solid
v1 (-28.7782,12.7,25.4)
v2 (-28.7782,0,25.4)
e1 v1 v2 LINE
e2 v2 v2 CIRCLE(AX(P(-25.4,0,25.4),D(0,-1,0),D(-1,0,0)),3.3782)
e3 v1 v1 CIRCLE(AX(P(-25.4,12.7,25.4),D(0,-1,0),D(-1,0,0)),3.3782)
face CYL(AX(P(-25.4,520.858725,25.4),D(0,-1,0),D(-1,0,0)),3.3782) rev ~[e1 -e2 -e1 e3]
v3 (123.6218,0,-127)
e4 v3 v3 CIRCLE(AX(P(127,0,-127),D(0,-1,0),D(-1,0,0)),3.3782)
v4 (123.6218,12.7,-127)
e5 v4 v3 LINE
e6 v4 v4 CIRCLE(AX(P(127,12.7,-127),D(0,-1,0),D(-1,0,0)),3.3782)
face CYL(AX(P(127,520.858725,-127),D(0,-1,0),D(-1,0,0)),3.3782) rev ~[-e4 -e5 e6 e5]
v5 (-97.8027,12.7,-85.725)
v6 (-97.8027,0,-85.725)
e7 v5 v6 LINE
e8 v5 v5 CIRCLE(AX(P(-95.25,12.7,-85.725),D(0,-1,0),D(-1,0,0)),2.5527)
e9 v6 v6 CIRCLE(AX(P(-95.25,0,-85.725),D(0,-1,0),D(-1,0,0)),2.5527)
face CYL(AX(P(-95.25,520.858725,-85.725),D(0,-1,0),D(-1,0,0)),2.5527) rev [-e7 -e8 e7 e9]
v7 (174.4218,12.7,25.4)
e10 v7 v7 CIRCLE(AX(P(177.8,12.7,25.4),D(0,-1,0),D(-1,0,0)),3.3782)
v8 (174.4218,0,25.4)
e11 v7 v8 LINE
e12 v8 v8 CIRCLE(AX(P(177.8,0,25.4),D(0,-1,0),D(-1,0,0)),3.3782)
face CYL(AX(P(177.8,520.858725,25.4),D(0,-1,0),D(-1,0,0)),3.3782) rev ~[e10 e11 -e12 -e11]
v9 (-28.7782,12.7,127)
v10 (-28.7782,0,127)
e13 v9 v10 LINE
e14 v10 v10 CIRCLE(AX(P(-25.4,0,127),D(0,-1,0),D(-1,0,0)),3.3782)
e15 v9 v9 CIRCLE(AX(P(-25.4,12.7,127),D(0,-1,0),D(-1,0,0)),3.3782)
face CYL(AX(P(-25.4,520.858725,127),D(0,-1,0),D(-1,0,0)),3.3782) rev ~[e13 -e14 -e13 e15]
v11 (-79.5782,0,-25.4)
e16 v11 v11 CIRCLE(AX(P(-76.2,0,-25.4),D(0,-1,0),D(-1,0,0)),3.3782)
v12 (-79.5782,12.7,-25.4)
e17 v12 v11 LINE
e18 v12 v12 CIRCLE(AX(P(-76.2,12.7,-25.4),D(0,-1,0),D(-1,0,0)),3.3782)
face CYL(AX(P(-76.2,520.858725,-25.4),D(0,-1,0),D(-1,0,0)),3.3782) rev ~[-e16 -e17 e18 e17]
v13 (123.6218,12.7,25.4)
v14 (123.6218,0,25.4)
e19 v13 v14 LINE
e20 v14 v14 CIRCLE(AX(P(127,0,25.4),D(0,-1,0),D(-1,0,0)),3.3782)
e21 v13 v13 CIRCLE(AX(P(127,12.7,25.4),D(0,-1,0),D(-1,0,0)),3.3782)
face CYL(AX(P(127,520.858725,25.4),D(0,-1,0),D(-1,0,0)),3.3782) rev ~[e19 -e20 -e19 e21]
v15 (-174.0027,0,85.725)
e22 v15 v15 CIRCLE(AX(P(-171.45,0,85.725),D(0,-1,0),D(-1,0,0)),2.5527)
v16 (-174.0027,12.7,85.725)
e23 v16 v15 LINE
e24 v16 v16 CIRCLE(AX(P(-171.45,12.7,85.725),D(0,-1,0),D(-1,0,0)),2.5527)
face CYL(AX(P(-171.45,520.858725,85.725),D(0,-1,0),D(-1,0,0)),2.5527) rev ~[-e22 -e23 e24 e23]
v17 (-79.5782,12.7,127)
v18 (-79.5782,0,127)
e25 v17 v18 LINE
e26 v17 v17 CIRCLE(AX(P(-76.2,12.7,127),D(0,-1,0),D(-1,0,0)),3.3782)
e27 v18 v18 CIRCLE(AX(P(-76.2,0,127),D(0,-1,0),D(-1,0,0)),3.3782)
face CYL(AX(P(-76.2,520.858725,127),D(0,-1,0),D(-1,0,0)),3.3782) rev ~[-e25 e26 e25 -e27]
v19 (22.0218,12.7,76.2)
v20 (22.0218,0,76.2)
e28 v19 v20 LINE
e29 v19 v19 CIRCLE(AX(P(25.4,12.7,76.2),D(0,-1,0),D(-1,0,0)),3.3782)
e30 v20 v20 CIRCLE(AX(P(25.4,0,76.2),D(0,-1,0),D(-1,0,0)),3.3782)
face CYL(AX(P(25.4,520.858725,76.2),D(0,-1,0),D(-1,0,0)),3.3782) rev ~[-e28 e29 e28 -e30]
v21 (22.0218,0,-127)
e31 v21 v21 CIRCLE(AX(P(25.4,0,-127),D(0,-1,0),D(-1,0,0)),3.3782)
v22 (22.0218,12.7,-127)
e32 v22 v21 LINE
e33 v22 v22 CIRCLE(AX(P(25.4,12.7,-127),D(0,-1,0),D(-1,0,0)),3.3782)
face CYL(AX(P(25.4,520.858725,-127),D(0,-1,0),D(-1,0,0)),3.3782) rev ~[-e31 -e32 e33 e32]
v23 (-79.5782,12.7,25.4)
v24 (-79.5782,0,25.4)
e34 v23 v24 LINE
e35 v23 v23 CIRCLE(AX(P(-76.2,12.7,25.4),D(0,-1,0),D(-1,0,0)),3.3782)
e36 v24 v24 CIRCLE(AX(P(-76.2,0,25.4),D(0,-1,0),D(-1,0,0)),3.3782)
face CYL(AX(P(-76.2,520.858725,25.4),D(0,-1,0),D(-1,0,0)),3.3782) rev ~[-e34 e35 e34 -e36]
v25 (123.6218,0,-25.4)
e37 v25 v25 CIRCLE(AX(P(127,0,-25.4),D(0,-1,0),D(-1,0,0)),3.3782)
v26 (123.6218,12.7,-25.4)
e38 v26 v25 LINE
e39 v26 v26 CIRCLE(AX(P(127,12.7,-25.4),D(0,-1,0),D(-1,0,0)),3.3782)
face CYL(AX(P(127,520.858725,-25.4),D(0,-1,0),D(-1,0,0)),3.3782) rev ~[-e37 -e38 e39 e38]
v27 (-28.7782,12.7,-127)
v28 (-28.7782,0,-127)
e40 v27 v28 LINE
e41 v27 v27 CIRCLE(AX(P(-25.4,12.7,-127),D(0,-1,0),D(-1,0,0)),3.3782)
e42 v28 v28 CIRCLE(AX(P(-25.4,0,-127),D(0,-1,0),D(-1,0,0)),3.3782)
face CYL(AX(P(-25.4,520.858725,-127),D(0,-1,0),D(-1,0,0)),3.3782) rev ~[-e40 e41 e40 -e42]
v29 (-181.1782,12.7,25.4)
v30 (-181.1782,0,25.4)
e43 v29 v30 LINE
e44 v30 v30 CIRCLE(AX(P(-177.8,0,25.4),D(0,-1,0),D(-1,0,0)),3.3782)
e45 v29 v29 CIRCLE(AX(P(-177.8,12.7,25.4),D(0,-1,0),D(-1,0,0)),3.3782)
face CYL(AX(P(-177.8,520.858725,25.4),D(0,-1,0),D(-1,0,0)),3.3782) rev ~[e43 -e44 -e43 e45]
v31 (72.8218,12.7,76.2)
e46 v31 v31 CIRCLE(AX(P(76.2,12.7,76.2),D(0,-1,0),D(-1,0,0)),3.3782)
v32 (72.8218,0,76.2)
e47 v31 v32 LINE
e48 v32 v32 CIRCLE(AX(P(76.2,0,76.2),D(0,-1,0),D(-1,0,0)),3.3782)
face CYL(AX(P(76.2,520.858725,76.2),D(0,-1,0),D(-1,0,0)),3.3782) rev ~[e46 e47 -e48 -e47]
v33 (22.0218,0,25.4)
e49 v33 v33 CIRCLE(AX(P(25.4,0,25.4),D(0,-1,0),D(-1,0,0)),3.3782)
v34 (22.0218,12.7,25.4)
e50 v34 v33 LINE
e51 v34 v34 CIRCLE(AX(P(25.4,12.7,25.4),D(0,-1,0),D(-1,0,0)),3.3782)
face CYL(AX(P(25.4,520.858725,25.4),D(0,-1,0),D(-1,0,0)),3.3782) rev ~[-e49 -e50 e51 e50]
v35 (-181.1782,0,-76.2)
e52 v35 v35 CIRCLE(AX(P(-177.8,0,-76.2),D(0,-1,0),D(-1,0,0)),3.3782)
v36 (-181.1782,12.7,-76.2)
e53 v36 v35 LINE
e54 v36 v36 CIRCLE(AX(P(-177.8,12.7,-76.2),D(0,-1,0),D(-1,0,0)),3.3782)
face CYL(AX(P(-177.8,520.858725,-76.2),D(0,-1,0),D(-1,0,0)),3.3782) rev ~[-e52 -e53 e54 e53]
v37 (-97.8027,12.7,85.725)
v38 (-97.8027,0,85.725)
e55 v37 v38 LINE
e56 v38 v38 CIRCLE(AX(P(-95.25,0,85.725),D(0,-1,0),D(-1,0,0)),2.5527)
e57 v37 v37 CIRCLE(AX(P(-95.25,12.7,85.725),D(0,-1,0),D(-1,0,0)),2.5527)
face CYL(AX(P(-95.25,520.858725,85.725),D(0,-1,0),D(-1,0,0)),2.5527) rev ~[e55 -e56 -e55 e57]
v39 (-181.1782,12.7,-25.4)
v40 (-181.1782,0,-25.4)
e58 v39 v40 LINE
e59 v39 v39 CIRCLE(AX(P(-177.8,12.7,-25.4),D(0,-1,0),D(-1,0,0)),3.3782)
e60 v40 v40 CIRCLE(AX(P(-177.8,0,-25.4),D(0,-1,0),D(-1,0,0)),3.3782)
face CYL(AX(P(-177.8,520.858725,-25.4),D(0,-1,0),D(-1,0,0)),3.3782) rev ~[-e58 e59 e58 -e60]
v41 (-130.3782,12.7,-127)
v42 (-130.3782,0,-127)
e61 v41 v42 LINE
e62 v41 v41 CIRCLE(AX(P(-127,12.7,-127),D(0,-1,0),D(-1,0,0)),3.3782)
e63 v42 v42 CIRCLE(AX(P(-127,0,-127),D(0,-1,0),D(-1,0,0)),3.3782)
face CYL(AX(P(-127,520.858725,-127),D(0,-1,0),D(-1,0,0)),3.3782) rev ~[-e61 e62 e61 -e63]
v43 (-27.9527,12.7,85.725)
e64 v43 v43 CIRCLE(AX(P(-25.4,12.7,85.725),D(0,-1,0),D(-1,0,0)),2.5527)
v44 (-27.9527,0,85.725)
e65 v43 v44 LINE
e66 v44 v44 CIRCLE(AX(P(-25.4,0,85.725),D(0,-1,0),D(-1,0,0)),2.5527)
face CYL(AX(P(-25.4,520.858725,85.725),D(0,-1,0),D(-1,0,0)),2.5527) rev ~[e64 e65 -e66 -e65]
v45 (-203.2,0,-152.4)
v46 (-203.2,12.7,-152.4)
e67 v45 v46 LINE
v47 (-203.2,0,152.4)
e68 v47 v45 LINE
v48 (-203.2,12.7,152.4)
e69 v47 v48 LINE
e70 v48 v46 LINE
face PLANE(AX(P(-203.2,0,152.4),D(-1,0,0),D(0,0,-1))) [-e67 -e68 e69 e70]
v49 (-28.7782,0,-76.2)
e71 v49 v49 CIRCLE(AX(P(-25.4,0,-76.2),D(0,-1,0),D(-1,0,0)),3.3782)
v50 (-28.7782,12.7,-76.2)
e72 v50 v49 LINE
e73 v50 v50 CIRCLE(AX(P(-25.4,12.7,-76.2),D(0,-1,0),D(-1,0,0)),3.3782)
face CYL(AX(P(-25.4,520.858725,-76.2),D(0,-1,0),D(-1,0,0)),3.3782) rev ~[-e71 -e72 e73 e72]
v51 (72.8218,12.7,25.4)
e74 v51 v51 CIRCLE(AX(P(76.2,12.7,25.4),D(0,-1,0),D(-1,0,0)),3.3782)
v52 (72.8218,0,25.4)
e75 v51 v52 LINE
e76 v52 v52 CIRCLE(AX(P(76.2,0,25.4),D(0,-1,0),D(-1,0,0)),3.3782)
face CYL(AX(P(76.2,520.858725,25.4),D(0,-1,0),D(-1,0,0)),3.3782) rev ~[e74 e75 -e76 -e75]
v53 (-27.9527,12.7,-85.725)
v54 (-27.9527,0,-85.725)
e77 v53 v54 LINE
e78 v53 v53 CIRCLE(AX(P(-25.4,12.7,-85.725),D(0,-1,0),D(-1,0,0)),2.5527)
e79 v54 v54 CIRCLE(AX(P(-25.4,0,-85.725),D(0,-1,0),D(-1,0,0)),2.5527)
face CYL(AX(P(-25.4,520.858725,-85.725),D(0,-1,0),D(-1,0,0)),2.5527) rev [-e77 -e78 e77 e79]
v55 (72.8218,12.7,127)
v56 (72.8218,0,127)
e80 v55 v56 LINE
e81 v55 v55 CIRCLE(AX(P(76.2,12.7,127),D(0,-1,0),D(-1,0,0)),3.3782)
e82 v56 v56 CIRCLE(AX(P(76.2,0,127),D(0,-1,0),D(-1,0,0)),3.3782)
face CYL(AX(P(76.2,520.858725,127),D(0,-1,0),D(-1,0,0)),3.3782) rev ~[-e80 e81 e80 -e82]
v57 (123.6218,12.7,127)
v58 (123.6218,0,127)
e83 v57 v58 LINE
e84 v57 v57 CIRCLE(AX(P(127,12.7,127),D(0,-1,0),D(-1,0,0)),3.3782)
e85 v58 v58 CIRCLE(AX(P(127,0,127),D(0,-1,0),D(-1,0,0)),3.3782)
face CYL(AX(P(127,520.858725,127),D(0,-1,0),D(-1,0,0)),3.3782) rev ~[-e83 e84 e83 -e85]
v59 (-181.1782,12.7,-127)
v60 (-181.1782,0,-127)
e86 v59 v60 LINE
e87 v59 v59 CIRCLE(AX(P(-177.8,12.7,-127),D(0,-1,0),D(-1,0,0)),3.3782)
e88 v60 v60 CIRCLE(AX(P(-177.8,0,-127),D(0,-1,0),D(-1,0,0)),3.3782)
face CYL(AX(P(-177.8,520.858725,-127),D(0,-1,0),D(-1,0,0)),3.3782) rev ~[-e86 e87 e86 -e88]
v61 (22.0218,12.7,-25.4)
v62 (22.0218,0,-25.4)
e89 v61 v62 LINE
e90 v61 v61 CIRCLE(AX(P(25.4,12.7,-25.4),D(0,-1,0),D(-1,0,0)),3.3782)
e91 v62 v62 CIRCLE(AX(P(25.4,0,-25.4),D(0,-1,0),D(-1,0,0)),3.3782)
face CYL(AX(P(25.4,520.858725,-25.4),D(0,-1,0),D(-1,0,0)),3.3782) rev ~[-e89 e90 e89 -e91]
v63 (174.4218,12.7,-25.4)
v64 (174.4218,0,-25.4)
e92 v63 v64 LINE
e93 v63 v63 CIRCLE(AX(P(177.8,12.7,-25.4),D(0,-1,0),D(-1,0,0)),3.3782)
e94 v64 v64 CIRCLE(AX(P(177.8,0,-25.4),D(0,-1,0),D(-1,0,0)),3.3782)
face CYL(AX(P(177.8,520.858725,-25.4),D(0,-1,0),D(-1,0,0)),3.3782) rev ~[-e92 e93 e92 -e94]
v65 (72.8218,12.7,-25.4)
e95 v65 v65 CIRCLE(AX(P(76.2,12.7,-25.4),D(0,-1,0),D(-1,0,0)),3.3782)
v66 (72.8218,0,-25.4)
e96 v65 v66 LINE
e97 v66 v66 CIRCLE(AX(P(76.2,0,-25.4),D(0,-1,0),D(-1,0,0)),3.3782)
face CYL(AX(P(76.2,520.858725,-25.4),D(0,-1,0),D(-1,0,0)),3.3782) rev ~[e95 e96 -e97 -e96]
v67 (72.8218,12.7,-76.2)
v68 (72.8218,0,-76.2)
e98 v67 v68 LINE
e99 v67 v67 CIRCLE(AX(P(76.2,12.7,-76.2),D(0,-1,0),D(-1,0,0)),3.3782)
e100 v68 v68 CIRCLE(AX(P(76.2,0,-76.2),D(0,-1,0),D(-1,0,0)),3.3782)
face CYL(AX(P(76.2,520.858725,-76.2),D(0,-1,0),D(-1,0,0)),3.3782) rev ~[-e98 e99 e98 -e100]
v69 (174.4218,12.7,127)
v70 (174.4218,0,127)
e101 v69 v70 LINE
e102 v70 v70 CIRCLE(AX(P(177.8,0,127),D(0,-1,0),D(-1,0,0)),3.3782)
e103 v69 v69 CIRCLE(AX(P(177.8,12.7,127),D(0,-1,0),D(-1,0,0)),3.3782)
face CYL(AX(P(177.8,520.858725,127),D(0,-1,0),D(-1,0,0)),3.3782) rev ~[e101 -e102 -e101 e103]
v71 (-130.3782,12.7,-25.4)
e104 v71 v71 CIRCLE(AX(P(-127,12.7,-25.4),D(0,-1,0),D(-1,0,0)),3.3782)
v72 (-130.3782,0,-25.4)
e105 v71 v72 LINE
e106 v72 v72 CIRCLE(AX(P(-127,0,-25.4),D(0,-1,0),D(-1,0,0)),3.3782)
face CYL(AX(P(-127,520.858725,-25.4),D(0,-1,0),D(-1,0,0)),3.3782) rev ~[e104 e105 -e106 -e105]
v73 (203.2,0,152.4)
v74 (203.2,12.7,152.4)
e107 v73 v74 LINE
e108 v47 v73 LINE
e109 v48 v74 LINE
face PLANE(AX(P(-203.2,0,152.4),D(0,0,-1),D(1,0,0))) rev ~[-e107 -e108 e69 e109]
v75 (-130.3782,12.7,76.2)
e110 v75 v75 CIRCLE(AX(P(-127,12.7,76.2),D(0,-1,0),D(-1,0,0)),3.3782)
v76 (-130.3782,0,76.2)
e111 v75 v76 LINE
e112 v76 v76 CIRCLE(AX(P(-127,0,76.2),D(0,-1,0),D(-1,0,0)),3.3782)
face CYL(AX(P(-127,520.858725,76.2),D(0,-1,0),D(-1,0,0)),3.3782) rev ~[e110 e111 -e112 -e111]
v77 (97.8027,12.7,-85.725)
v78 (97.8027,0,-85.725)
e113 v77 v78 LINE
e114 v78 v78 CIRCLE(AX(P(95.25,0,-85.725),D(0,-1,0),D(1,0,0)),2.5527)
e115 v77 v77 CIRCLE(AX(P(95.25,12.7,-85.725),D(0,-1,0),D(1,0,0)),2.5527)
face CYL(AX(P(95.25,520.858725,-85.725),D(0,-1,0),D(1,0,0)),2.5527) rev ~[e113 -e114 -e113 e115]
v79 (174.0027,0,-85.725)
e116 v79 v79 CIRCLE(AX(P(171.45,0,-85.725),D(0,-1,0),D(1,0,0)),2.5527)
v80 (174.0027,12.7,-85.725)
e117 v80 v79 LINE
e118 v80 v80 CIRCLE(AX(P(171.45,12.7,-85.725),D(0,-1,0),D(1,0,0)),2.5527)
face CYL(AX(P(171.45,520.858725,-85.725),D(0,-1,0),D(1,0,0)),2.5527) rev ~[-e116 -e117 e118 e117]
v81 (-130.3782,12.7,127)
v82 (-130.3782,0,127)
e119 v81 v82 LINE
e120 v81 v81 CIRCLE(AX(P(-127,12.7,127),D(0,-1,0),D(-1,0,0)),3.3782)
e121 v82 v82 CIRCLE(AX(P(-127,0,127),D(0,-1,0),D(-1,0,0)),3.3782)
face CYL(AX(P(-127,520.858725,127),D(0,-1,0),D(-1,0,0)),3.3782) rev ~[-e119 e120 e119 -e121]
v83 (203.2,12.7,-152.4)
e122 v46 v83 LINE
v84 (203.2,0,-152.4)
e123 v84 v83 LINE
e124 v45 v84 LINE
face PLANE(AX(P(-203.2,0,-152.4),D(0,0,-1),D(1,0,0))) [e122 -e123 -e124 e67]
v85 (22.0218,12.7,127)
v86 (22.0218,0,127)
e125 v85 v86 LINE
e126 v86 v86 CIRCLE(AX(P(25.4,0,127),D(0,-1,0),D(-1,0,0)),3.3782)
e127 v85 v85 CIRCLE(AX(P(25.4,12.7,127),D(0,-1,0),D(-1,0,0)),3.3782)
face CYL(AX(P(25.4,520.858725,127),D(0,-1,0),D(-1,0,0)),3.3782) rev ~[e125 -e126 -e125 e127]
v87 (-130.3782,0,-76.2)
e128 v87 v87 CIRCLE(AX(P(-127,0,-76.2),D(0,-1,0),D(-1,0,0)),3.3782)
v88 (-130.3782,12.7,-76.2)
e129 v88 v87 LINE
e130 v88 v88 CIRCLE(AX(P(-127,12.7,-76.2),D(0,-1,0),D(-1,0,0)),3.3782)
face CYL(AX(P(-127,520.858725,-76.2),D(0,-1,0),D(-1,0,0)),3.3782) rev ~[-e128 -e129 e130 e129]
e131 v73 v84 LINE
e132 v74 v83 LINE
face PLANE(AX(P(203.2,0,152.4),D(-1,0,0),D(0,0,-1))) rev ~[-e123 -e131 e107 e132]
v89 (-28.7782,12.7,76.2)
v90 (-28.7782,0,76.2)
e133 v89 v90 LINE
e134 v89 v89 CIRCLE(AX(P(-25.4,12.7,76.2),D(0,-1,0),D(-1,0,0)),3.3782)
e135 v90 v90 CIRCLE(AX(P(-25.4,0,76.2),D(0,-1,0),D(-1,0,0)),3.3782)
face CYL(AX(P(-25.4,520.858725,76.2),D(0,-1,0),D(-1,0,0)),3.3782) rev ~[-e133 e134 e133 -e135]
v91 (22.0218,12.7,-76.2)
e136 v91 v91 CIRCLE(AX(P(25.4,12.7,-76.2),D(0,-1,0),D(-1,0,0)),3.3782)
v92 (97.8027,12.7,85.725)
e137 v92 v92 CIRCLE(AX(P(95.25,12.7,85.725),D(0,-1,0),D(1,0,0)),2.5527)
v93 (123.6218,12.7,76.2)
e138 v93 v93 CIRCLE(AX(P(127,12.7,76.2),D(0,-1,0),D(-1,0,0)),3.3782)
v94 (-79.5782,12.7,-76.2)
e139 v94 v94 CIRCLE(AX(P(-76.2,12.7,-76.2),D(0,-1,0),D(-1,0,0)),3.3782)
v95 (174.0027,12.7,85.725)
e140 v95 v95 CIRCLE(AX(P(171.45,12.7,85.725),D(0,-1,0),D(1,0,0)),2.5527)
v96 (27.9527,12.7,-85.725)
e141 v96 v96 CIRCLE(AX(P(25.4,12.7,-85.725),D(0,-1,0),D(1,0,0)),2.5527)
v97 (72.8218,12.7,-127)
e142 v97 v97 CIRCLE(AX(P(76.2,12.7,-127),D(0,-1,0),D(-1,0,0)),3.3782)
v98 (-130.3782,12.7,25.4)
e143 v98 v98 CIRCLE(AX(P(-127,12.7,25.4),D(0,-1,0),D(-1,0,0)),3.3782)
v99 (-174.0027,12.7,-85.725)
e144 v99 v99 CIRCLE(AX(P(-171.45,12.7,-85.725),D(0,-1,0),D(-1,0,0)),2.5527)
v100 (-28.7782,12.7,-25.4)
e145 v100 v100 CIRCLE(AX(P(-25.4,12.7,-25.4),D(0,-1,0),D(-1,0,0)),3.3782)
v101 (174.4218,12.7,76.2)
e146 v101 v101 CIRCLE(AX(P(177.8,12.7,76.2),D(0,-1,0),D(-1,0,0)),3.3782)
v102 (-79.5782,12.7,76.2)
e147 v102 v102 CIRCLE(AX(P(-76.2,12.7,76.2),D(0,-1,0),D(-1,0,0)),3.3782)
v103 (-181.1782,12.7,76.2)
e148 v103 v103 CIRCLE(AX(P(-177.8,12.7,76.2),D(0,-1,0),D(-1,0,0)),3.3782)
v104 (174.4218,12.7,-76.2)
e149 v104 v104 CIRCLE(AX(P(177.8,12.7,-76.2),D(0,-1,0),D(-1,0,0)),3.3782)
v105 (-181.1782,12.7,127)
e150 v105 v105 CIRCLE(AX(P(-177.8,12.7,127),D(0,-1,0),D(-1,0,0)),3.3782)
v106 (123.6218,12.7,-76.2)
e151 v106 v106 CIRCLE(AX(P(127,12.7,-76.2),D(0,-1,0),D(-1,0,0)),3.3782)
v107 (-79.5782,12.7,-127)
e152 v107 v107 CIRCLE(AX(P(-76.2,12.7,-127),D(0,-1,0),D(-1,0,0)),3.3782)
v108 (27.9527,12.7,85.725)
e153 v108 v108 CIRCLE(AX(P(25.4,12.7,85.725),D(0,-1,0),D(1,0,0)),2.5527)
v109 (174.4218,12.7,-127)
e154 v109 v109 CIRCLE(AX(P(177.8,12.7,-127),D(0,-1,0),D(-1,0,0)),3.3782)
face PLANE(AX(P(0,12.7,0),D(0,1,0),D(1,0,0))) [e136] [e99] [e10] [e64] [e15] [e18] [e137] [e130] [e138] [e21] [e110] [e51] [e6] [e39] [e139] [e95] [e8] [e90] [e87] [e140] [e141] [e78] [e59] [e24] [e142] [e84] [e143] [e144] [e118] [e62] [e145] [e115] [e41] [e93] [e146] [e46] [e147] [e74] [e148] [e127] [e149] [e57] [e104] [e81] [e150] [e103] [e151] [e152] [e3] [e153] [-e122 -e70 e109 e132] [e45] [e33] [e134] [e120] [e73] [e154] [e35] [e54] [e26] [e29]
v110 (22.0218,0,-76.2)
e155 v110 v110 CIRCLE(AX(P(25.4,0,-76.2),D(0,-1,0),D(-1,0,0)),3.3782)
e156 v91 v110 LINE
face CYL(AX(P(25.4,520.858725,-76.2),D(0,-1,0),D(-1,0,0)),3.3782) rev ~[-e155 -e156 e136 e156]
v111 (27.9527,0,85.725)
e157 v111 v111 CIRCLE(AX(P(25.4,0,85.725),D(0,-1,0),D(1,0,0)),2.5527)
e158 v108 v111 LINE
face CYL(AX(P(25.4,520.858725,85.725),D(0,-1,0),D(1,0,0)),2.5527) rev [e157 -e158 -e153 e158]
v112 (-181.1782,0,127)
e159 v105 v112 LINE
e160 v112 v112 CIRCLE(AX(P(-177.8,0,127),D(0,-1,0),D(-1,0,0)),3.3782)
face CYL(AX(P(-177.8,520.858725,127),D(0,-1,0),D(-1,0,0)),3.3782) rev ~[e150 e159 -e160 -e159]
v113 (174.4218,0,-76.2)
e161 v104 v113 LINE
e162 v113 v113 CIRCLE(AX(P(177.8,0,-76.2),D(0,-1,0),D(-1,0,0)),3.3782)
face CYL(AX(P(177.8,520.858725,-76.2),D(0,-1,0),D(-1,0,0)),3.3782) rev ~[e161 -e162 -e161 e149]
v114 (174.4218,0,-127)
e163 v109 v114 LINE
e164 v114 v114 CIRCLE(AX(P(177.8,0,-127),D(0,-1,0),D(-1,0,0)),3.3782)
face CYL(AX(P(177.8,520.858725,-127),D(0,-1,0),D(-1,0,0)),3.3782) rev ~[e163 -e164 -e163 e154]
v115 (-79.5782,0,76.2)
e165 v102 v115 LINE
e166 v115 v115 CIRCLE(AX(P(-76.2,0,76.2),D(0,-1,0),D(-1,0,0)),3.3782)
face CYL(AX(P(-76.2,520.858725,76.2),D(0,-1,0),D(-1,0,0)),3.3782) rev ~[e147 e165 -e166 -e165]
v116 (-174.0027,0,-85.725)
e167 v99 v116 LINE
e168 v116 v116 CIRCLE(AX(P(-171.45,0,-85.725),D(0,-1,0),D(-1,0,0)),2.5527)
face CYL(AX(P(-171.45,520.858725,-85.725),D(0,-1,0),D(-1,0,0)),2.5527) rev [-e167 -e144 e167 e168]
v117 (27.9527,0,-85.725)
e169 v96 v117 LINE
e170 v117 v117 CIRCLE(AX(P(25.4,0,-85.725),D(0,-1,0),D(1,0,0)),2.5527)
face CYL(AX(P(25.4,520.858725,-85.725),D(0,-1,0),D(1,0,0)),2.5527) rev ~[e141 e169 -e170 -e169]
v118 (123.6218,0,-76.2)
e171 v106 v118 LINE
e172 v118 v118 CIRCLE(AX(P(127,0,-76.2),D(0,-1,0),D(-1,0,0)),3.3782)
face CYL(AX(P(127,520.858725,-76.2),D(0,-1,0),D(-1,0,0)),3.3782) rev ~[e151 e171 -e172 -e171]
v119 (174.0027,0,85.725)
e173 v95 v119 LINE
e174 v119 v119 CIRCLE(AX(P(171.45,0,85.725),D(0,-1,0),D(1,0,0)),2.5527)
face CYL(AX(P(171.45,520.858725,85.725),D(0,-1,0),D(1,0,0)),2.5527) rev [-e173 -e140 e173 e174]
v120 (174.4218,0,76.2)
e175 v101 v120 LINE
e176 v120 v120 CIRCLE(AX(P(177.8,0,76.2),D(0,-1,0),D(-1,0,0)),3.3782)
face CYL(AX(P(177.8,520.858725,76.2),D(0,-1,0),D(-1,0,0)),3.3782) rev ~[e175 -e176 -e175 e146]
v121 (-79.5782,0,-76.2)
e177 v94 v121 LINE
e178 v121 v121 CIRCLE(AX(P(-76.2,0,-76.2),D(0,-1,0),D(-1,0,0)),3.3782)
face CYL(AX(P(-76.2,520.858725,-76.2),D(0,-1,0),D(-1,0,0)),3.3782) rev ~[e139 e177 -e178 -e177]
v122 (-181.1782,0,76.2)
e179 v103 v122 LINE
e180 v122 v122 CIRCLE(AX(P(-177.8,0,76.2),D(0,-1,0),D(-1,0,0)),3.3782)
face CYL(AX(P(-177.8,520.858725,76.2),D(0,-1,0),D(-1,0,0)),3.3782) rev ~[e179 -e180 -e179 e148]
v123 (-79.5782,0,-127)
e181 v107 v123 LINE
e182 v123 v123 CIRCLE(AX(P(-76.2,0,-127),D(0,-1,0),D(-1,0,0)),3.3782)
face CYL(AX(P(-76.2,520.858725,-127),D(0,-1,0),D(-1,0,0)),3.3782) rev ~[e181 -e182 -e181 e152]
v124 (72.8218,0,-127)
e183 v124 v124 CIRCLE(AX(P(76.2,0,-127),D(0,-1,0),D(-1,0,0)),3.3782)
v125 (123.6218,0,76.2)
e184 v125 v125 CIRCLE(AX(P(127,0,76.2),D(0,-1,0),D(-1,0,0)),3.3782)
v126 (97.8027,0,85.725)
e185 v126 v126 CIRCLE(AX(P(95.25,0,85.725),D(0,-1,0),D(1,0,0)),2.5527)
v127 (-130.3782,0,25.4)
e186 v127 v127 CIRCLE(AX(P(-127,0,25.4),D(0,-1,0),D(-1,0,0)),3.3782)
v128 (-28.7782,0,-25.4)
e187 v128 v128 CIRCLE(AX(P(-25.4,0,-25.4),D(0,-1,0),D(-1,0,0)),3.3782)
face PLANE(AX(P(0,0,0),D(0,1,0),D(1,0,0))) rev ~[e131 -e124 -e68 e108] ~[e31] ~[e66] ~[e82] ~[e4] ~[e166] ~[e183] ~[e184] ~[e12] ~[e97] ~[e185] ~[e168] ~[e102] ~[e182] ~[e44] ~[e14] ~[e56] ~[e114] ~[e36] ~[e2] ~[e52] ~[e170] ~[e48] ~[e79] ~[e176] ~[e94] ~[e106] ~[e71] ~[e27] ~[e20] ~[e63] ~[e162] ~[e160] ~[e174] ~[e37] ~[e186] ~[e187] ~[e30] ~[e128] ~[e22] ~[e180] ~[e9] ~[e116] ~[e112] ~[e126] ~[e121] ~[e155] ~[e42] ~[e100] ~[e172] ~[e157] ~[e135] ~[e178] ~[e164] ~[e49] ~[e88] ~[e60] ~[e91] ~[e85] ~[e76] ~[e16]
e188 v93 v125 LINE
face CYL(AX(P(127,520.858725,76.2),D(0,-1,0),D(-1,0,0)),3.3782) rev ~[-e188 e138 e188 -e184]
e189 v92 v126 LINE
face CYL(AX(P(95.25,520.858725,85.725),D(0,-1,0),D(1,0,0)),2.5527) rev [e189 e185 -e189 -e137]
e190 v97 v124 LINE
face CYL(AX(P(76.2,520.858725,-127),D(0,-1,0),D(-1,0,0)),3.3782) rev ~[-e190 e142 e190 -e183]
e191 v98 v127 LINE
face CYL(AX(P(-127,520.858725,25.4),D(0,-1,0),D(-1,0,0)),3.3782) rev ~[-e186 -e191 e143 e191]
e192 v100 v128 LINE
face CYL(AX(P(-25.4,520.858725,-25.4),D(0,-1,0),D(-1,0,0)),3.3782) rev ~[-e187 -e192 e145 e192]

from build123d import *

# Parameters (mm, degrees)
SKETCH2_W               = 406.4
SKETCH2_H               = 304.8
BOSS_EXTRUDE1_DEPTH     = 12.7
F_1_4_CLEARANCE_HOLE1_D = 6.7564
LPATTERN1_COUNT         = 6
LPATTERN1_PITCH         = 50.8
LPATTERN1_COUNT_DIR2    = 8
LPATTERN1_PITCH_DIR2    = 50.8
F_1_4_20_TAPPED_HOLE1_D = 5.1054
MIRROR2_COPY_1_D        = 5.1054


with BuildPart() as part:
    # Sketch2 → Boss-Extrude1 (new body)
    with BuildSketch(Plane(origin=(0, 0, 0), x_dir=(1, 0, 0), z_dir=(0, 1, 0))):
        Rectangle(SKETCH2_W, SKETCH2_H)
    extrude(amount=BOSS_EXTRUDE1_DEPTH)

    # 1/4 Clearance Hole1 (through all)
    with Locations(Plane(origin=(0, 12.7, 0), x_dir=(1, 0, 0), z_dir=(0, 1, 0))):
        with Locations((-177.8, -127)):
            f_1_4_clearance_hole1 = Hole(F_1_4_CLEARANCE_HOLE1_D / 2)

    # LPattern1: 1_4 Clearance Hole1 6 × 8
    with Locations(*[(j * LPATTERN1_PITCH_DIR2, 0, -i * LPATTERN1_PITCH) for i in range(LPATTERN1_COUNT) for j in range(LPATTERN1_COUNT_DIR2) if (i, j) != (0, 0)]):
        add(f_1_4_clearance_hole1, mode=Mode.SUBTRACT)

    # 1/4-20 Tapped Hole1 (through all)
    with Locations(Plane(origin=(0, 12.7, 0), x_dir=(1, 0, 0), z_dir=(0, 1, 0))):
        with Locations((-25.4, -85.725), (-95.25, -85.725), (-171.45, -85.725)):
            f_1_4_20_tapped_hole1 = Hole(F_1_4_20_TAPPED_HOLE1_D / 2)

    # Mirror1: 1/4-20 Tapped Hole1 across plane
    add(f_1_4_20_tapped_hole1.mirror(Plane.XY), mode=Mode.SUBTRACT)

    # Mirror2: 1/4-20 Tapped Hole1 across plane
    add(f_1_4_20_tapped_hole1.mirror(Plane(origin=(0, 0, 0), x_dir=(0, 0, 1), z_dir=(1, 0, 0))), mode=Mode.SUBTRACT)

    # Mirror2 copy 1 (through all)
    with Locations(Plane(origin=(0, 12.7, 0), x_dir=(-1, 0, 0), z_dir=(0, 1, 0))):
        with Locations((-25.4, -85.725), (-95.25, -85.725), (-171.45, -85.725)):
            Hole(MIRROR2_COPY_1_D / 2)


solid = part.part
